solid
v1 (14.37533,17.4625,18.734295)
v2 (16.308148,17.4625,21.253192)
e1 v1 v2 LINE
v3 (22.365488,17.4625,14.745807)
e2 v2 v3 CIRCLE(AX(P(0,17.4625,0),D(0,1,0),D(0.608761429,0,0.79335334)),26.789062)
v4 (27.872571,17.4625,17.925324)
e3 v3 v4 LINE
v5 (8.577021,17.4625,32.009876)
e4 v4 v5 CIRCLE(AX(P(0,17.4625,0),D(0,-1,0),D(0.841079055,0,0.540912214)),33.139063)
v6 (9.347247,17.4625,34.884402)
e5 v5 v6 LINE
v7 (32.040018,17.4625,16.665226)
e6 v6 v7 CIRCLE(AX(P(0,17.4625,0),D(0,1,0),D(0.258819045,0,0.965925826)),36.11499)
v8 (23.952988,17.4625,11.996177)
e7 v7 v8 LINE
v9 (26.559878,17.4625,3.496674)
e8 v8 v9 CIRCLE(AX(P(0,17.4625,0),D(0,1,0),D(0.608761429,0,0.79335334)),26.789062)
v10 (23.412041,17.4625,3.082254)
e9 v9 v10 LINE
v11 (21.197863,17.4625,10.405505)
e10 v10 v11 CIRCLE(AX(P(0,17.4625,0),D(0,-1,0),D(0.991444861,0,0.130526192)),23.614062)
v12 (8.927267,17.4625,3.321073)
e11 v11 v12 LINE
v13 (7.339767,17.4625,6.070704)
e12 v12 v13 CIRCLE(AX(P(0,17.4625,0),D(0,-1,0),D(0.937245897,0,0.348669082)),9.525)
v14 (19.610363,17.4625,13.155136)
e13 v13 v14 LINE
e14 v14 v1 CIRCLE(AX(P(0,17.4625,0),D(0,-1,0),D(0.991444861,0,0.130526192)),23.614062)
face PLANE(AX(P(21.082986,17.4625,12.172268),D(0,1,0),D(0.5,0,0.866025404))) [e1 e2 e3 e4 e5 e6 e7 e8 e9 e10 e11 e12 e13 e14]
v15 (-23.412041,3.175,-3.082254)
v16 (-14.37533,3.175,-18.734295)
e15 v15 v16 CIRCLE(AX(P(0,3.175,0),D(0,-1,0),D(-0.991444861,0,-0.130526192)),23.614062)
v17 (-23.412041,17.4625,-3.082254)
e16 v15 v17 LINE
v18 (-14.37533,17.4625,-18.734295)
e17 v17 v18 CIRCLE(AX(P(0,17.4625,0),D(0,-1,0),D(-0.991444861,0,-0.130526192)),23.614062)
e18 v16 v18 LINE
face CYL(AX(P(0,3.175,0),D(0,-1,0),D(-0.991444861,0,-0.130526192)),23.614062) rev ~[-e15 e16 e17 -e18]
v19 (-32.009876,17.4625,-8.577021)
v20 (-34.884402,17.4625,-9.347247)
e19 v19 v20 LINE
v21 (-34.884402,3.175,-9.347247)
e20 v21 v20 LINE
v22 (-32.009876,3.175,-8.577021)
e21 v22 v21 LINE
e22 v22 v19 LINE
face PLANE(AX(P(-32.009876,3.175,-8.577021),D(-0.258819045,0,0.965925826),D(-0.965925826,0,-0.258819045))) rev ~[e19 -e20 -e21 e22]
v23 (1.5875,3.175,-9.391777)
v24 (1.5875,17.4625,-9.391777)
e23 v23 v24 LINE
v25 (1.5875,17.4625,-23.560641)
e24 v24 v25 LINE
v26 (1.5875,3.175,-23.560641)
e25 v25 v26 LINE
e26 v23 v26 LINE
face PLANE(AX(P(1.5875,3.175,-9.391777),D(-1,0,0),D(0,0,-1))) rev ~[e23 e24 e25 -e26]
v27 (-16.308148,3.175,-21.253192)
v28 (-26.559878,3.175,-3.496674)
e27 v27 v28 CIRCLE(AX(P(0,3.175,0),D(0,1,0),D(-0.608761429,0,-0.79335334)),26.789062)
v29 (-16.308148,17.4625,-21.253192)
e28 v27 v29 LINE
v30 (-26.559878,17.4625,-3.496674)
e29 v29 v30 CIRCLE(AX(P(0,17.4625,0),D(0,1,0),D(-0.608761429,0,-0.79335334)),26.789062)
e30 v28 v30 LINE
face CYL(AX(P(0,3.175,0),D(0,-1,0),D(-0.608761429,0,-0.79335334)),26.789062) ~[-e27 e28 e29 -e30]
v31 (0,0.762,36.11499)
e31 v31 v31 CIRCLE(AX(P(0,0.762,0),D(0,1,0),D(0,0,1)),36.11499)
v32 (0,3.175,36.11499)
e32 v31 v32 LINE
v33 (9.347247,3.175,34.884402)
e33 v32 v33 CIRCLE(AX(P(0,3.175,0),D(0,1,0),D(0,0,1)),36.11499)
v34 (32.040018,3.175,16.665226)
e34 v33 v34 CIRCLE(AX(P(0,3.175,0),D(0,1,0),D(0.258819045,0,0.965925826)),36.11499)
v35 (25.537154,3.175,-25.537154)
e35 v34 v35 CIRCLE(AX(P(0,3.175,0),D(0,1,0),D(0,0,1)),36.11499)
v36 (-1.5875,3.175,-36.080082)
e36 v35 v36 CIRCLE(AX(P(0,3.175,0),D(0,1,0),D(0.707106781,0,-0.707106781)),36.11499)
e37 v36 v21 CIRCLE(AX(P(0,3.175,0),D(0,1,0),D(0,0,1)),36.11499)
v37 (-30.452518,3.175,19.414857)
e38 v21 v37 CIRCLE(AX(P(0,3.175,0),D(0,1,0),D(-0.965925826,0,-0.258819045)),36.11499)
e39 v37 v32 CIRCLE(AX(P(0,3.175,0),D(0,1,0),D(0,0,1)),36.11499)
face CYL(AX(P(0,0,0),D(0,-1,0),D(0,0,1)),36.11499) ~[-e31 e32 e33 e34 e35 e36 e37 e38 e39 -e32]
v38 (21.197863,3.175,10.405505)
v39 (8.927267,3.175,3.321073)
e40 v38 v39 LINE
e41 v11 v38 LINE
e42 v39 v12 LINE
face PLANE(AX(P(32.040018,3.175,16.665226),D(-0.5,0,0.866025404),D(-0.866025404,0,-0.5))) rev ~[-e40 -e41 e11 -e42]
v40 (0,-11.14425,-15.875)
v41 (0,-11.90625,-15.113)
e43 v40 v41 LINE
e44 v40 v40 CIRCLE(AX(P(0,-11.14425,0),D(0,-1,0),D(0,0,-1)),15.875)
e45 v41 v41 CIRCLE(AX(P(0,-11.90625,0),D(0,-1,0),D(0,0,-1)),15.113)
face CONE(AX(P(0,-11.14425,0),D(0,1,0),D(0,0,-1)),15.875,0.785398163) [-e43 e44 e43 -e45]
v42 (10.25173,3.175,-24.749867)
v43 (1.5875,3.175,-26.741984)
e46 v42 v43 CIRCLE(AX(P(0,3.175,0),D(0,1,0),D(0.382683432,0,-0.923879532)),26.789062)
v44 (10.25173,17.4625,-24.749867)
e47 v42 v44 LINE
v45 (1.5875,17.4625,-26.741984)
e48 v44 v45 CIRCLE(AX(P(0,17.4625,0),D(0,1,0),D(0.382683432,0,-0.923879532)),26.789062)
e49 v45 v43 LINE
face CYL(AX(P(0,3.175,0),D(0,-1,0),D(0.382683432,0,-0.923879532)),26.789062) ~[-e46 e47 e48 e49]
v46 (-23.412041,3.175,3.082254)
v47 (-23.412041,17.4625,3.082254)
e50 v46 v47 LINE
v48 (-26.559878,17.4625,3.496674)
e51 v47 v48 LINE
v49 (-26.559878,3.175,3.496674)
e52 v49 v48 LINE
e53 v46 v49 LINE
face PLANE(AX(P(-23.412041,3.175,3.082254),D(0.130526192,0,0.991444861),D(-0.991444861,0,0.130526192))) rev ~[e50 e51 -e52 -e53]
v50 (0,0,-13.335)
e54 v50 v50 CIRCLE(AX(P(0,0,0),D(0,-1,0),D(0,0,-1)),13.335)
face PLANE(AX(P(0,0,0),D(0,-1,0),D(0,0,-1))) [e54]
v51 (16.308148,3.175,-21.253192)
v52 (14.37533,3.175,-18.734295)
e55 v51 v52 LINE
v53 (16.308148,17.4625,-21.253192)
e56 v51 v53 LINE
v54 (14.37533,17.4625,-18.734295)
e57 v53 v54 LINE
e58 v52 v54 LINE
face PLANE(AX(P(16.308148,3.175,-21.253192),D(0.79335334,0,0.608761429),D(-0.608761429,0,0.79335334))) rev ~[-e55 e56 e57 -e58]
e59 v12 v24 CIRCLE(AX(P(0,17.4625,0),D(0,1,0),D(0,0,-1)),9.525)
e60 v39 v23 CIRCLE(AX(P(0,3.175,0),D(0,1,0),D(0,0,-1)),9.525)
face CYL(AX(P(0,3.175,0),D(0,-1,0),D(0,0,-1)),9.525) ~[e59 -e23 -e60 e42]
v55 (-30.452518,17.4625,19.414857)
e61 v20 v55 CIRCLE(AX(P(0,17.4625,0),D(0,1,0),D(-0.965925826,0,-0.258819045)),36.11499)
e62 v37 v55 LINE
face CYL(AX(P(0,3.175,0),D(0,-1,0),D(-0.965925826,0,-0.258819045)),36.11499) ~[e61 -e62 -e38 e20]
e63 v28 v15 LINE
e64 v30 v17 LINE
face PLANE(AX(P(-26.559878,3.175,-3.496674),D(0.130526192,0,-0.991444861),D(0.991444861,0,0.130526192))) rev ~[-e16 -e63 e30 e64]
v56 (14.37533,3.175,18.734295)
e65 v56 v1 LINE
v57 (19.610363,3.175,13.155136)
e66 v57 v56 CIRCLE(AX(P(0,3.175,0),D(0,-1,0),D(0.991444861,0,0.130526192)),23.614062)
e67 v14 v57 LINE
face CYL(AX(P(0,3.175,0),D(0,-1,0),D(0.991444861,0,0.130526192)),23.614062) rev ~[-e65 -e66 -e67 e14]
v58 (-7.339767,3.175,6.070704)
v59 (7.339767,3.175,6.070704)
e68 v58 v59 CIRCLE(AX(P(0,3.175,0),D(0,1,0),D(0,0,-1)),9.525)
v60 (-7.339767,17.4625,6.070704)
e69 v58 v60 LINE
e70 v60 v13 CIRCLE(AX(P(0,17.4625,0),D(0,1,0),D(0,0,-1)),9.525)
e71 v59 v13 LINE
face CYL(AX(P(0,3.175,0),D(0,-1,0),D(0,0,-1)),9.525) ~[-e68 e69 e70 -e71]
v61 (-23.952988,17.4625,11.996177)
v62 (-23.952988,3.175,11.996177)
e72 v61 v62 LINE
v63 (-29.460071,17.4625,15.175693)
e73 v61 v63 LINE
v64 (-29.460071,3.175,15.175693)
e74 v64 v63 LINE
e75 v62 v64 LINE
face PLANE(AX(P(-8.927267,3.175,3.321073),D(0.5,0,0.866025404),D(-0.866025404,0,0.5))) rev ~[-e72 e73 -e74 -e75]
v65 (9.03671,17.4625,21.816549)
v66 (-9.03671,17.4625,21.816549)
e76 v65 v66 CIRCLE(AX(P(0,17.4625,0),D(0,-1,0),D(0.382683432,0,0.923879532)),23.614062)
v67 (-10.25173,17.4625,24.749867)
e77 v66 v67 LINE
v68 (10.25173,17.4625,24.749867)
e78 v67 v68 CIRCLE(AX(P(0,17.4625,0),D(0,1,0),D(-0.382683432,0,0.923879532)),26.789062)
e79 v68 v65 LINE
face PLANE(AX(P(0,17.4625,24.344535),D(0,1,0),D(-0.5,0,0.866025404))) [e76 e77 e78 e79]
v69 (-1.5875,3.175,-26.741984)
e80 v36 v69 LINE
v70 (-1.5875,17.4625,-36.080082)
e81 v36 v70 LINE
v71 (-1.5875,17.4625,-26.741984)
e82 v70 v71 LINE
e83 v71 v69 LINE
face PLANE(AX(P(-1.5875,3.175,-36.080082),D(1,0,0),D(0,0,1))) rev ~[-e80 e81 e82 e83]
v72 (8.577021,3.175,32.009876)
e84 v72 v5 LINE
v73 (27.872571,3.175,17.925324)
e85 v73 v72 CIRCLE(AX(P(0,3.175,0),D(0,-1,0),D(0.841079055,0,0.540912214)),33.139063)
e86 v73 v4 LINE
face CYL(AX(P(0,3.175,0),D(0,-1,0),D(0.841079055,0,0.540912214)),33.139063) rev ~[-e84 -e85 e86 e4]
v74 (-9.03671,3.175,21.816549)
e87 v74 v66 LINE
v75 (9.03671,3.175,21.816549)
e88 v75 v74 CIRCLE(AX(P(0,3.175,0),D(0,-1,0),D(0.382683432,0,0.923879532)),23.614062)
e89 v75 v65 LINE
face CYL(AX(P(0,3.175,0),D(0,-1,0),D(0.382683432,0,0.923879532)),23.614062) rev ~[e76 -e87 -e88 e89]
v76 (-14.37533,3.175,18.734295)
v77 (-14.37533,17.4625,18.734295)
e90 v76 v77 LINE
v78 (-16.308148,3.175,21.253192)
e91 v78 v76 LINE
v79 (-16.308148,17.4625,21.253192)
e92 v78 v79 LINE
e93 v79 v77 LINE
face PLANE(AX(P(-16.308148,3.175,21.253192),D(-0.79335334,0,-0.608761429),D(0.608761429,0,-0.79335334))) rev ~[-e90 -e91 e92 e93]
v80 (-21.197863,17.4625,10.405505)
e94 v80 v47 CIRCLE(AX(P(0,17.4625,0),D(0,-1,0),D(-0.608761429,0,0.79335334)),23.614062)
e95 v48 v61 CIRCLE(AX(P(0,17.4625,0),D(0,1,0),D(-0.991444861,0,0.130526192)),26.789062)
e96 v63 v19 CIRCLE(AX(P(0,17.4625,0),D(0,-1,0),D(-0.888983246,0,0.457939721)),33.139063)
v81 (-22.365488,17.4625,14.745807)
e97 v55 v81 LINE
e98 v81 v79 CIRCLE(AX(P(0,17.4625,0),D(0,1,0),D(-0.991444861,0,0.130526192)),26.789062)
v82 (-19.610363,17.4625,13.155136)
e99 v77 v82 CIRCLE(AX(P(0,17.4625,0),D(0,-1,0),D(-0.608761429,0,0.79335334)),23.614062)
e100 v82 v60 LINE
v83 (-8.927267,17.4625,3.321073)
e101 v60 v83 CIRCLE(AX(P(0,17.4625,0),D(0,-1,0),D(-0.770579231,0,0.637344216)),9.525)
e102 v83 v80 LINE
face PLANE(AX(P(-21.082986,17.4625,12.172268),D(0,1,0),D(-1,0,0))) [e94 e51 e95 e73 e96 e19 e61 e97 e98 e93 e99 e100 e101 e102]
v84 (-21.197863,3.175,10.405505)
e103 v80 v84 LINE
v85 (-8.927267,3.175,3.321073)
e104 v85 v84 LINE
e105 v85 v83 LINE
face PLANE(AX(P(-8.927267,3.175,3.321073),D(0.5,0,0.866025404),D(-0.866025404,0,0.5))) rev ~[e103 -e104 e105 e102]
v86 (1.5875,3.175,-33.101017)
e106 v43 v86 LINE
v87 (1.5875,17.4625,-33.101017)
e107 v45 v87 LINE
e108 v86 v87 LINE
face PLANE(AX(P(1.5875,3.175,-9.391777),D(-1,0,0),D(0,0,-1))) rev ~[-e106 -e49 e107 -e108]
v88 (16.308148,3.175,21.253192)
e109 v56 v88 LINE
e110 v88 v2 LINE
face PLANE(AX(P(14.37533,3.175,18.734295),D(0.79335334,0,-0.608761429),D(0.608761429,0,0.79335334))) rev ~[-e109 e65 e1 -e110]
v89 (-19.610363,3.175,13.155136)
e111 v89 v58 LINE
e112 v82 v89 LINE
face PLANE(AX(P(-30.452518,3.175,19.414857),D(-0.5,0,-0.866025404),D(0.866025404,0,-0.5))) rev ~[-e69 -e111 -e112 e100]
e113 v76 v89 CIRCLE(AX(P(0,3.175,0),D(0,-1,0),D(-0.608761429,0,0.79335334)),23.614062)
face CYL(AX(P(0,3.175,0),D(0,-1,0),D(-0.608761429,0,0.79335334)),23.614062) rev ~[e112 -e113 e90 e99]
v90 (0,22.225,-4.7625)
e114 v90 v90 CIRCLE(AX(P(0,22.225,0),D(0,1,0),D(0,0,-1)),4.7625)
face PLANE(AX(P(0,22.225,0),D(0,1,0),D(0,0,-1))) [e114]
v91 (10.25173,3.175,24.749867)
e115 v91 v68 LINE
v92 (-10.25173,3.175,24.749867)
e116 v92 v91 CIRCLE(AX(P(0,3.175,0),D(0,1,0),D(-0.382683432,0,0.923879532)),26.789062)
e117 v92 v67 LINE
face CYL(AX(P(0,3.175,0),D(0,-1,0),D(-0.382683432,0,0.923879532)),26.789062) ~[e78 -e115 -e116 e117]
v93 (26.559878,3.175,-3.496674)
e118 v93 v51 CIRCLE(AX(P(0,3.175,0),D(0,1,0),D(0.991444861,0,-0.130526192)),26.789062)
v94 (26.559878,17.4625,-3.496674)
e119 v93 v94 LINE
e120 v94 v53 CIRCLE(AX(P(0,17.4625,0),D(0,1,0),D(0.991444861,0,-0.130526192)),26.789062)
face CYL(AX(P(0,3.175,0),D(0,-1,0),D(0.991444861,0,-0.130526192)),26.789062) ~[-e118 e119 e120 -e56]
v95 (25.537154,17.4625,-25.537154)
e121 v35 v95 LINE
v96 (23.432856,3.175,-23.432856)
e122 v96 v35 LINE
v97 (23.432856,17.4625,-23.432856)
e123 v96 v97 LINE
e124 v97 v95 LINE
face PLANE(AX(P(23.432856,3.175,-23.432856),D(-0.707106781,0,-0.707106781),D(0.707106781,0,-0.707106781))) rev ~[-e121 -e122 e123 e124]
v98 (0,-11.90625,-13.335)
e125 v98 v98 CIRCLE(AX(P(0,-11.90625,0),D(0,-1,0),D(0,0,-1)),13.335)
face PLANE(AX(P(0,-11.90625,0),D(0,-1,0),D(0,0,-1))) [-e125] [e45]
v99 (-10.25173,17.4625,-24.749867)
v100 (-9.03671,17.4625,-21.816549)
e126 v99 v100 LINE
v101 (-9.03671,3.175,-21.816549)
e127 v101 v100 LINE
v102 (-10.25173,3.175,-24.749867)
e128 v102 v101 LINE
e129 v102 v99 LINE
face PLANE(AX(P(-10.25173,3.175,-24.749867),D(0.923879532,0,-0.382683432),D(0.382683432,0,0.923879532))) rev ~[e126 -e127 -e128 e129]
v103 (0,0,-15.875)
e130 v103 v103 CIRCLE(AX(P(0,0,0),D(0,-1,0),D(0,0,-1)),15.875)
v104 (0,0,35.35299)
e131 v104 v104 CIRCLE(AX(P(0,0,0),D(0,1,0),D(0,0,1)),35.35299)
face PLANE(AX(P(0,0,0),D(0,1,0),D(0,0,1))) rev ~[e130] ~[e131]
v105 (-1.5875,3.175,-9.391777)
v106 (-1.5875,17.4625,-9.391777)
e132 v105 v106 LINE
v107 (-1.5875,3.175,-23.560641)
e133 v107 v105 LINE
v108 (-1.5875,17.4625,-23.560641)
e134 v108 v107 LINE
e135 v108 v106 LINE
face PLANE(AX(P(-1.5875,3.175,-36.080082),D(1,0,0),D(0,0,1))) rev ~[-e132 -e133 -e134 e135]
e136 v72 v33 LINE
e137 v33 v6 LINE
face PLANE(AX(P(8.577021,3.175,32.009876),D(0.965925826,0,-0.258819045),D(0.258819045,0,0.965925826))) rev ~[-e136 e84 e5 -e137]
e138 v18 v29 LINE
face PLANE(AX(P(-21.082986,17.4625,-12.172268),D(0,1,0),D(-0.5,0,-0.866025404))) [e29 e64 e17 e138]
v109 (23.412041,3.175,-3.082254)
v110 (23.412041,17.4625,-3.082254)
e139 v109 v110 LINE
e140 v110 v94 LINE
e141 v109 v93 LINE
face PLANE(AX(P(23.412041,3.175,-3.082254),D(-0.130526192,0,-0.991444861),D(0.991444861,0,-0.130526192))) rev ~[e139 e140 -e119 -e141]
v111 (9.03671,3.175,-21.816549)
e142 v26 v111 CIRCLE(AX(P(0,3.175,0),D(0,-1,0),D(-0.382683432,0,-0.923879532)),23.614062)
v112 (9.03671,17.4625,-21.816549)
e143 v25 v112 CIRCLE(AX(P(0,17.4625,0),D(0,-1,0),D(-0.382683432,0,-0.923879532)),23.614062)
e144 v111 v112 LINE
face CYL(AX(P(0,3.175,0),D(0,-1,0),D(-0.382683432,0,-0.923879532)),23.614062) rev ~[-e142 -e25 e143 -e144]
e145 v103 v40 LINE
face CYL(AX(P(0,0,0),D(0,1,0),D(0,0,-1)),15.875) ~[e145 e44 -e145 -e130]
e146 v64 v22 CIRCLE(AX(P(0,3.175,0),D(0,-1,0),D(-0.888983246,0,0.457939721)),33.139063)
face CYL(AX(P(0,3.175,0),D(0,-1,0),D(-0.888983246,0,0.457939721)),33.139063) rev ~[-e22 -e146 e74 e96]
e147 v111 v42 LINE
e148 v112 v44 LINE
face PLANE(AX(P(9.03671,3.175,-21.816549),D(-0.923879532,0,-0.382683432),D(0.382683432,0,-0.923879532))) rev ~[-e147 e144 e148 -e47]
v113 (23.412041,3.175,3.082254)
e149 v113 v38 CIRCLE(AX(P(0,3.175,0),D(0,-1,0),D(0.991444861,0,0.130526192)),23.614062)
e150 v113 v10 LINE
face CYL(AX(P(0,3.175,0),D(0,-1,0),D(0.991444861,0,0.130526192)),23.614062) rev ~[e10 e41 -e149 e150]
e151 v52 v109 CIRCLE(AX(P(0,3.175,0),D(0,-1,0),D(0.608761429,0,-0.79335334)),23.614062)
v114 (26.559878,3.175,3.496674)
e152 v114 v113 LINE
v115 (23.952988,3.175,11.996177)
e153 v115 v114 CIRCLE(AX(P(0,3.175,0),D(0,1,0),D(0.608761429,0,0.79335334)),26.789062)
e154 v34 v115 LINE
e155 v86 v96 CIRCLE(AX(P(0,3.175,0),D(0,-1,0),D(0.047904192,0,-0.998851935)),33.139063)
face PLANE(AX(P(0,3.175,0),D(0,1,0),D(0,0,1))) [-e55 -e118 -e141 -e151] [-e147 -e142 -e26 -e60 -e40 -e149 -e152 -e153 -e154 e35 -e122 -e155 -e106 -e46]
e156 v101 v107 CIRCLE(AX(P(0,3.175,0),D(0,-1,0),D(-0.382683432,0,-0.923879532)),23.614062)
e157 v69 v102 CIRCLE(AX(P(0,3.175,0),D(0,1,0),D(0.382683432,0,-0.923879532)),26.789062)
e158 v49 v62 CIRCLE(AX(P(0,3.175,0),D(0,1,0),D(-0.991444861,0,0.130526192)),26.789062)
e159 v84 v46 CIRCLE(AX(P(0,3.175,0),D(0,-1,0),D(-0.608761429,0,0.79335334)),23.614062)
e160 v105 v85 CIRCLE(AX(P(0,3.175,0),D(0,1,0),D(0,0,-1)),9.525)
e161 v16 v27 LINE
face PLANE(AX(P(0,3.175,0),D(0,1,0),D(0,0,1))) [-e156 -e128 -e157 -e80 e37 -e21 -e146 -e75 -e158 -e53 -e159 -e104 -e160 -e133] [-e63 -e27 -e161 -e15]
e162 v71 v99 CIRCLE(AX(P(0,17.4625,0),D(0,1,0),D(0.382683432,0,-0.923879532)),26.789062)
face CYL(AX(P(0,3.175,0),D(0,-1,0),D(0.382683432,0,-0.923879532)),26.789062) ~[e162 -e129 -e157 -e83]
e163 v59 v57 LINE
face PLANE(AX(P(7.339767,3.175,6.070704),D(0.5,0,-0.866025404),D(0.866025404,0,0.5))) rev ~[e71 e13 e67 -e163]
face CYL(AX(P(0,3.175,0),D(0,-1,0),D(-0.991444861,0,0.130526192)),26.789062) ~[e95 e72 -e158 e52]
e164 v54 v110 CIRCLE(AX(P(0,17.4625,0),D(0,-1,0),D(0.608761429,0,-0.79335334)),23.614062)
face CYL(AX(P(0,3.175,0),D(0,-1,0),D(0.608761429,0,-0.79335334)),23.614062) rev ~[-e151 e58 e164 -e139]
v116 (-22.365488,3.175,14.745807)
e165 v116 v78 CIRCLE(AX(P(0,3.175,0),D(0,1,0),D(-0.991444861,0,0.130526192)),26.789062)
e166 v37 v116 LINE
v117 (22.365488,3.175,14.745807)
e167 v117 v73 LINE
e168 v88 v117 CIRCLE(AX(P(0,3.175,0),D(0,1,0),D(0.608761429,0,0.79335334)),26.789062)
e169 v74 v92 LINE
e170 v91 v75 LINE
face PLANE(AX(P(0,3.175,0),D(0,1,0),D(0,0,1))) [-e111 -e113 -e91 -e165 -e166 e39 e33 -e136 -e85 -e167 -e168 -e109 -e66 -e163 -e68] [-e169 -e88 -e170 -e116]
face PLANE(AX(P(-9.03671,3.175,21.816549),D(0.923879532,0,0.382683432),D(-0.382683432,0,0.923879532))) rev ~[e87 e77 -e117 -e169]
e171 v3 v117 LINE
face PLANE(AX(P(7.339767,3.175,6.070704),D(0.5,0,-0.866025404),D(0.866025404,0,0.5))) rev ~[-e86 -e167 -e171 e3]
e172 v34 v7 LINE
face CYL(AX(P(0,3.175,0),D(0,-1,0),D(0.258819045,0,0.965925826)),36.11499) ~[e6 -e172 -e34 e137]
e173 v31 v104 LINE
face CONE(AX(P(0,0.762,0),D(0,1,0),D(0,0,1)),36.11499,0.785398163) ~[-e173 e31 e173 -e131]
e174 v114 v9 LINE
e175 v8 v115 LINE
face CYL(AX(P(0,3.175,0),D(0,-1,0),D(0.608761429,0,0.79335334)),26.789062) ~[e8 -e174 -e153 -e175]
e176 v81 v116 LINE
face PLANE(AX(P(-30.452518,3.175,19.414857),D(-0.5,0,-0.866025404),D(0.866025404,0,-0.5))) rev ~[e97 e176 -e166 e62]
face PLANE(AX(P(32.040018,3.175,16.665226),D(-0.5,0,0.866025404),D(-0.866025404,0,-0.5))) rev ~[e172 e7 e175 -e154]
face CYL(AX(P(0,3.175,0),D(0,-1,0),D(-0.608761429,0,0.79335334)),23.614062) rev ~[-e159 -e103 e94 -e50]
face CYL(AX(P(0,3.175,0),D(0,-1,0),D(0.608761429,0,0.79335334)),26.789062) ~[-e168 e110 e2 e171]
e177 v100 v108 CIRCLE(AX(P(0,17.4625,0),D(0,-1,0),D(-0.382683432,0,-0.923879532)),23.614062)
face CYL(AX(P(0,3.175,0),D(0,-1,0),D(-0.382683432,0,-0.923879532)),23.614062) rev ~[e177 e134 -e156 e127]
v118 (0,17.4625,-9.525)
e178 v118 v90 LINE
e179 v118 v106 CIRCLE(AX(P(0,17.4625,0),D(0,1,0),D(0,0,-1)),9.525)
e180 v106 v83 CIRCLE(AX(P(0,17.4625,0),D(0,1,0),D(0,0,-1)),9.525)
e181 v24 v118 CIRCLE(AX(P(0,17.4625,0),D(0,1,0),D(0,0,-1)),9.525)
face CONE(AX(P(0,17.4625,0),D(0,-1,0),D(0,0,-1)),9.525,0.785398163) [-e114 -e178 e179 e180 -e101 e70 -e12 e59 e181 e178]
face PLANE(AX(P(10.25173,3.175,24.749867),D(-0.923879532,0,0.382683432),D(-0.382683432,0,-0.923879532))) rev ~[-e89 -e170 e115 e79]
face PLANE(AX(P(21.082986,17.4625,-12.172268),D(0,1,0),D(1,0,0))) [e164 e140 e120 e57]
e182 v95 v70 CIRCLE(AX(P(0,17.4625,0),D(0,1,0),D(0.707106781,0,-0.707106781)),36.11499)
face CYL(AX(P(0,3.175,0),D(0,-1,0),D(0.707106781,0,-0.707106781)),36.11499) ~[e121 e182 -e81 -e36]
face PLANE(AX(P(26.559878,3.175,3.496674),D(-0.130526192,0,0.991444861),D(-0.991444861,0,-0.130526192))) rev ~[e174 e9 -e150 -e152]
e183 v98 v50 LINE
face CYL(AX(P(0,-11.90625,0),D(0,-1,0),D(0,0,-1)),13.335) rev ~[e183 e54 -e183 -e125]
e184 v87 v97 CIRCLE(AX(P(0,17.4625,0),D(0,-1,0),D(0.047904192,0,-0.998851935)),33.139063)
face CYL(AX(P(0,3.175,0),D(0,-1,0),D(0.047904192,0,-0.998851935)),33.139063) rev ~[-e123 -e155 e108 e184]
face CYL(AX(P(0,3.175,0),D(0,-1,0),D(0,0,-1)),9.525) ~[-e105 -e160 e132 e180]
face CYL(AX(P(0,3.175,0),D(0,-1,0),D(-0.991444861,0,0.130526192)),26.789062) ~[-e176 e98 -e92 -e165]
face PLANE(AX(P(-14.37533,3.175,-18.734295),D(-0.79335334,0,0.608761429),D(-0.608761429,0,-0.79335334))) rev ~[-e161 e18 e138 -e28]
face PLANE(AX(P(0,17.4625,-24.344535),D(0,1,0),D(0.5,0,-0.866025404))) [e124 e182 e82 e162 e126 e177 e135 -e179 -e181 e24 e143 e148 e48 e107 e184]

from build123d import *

# Parameters (mm, degrees)
SKETCH1_R           = 36.11499
BOSS_EXTRUDE1_DEPTH = 3.175
SKETCH2_R           = 9.525
BOSS_EXTRUDE3_DEPTH = 19.05
CHAMFER1_SIZE       = 4.7625
SKETCH5_R           = 15.875
BOSS_EXTRUDE4_DEPTH = 11.90625
BOSS_EXTRUDE5_DEPTH = 14.2875
CIRPATTERN1_COUNT   = 3
BOSS_EXTRUDE6_DEPTH = 14.2875
CIRPATTERN2_COUNT   = 6
SKETCH9_R           = 13.335
CUT_EXTRUDE1_DEPTH  = 11.90625
CHAMFER2_SIZE       = 0.762
CHAMFER3_SIZE       = 0.762


with BuildPart() as part:
    # Sketch1 → Boss-Extrude1 (new body)
    with BuildSketch(Plane(origin=(0, 0, 0), x_dir=(1, 0, 0), z_dir=(0, 1, 0))):
        with Locations(Location((0, 0, 0), (0, 0, 270))):
            Circle(SKETCH1_R)
    extrude(amount=BOSS_EXTRUDE1_DEPTH)

    # Sketch2 → Boss-Extrude3 (add)
    with BuildSketch(Plane(origin=(0, 3.175, 0), x_dir=(1, 0, 0), z_dir=(0, 1, 0))):
        with Locations(Location((0, 0, 0), (0, 0, 90))):
            Circle(SKETCH2_R)
    extrude(amount=BOSS_EXTRUDE3_DEPTH)

    # Chamfer1
    chamfer1_edges = [part.edges().sort_by_distance(p)[0] for p in [
        (0, 22.225, 9.525),
    ]]
    chamfer(chamfer1_edges, length=CHAMFER1_SIZE)

    # Sketch5 → Boss-Extrude4 (add)
    with BuildSketch(Plane.XZ):
        with Locations(Location((0, 0, 0), (0, 0, 270))):
            Circle(SKETCH5_R)
    extrude(amount=BOSS_EXTRUDE4_DEPTH)

    # Sketch6 → Boss-Extrude5 (add)
    with BuildSketch(Plane(origin=(0, 3.175, 0), x_dir=(1, 0, 0), z_dir=(0, 1, 0))):
        with BuildLine():
            Line((-1.5875, 36.080082406), (-1.5875, 9.391776656))
            ThreePointArc((-1.5875, 9.391776656), (0, 9.525), (1.5875, 9.391776656))
            Line((1.5875, 9.391776656), (1.5875, 33.101016708))
            ThreePointArc((1.5875, 33.101016708), (13.411669734, 30.303870682), (23.432855816, 23.432855816))
            Line((23.432855816, 23.432855816), (25.537154331, 25.537154331))
            ThreePointArc((25.537154331, 25.537154331), (13.083761644, 33.661664902), (-1.5875, 36.080082406))
        make_face()
    boss_extrude5 = extrude(amount=BOSS_EXTRUDE5_DEPTH)

    # CirPattern1: Boss-Extrude5 ×3 about axis
    cirpattern1_axis = Axis((0, 22.225, 0), (0, -1, 0))
    for i in range(1, CIRPATTERN1_COUNT):
        add(boss_extrude5.rotate(cirpattern1_axis, i * 360 / CIRPATTERN1_COUNT))

    # Sketch8 → Boss-Extrude6 (add)
    with BuildSketch(Plane(origin=(0, 3.175, 0), x_dir=(1, 0, 0), z_dir=(0, 1, 0))):
        with BuildLine():
            ThreePointArc((14.375330432, 18.734295362), (20.450378012, 11.80703125), (23.412040922, 3.082253661))
            Line((23.412040922, 3.082253661), (26.559878357, 3.496674321))
            ThreePointArc((26.559878357, 3.496674321), (23.200008669, 13.39453125), (16.308147969, 21.253192218))
            Line((16.308147969, 21.253192218), (14.375330432, 18.734295362))
        make_face()
    boss_extrude6 = extrude(amount=BOSS_EXTRUDE6_DEPTH)

    # CirPattern2: Boss-Extrude6 ×6 about axis
    cirpattern2_axis = Axis((0, 0, 0), (0, 1, 0))
    for i in range(1, CIRPATTERN2_COUNT):
        add(boss_extrude6.rotate(cirpattern2_axis, i * 360 / CIRPATTERN2_COUNT))

    # Sketch9 → Cut-Extrude1 (cut)
    with BuildSketch(Plane.XZ.offset(11.90625)):
        with Locations(Location((0, 0, 0), (0, 0, 270))):
            Circle(SKETCH9_R)
    extrude(amount=-CUT_EXTRUDE1_DEPTH, mode=Mode.SUBTRACT)

    # Chamfer2
    chamfer2_edges = [part.edges().sort_by_distance(p)[0] for p in [
        (0, 0, -36.11499),
    ]]
    chamfer(chamfer2_edges, length=CHAMFER2_SIZE)

    # Chamfer3
    chamfer3_edges = [part.edges().sort_by_distance(p)[0] for p in [
        (0, -11.90625, 15.875),
    ]]
    chamfer(chamfer3_edges, length=CHAMFER3_SIZE)


solid = part.part
